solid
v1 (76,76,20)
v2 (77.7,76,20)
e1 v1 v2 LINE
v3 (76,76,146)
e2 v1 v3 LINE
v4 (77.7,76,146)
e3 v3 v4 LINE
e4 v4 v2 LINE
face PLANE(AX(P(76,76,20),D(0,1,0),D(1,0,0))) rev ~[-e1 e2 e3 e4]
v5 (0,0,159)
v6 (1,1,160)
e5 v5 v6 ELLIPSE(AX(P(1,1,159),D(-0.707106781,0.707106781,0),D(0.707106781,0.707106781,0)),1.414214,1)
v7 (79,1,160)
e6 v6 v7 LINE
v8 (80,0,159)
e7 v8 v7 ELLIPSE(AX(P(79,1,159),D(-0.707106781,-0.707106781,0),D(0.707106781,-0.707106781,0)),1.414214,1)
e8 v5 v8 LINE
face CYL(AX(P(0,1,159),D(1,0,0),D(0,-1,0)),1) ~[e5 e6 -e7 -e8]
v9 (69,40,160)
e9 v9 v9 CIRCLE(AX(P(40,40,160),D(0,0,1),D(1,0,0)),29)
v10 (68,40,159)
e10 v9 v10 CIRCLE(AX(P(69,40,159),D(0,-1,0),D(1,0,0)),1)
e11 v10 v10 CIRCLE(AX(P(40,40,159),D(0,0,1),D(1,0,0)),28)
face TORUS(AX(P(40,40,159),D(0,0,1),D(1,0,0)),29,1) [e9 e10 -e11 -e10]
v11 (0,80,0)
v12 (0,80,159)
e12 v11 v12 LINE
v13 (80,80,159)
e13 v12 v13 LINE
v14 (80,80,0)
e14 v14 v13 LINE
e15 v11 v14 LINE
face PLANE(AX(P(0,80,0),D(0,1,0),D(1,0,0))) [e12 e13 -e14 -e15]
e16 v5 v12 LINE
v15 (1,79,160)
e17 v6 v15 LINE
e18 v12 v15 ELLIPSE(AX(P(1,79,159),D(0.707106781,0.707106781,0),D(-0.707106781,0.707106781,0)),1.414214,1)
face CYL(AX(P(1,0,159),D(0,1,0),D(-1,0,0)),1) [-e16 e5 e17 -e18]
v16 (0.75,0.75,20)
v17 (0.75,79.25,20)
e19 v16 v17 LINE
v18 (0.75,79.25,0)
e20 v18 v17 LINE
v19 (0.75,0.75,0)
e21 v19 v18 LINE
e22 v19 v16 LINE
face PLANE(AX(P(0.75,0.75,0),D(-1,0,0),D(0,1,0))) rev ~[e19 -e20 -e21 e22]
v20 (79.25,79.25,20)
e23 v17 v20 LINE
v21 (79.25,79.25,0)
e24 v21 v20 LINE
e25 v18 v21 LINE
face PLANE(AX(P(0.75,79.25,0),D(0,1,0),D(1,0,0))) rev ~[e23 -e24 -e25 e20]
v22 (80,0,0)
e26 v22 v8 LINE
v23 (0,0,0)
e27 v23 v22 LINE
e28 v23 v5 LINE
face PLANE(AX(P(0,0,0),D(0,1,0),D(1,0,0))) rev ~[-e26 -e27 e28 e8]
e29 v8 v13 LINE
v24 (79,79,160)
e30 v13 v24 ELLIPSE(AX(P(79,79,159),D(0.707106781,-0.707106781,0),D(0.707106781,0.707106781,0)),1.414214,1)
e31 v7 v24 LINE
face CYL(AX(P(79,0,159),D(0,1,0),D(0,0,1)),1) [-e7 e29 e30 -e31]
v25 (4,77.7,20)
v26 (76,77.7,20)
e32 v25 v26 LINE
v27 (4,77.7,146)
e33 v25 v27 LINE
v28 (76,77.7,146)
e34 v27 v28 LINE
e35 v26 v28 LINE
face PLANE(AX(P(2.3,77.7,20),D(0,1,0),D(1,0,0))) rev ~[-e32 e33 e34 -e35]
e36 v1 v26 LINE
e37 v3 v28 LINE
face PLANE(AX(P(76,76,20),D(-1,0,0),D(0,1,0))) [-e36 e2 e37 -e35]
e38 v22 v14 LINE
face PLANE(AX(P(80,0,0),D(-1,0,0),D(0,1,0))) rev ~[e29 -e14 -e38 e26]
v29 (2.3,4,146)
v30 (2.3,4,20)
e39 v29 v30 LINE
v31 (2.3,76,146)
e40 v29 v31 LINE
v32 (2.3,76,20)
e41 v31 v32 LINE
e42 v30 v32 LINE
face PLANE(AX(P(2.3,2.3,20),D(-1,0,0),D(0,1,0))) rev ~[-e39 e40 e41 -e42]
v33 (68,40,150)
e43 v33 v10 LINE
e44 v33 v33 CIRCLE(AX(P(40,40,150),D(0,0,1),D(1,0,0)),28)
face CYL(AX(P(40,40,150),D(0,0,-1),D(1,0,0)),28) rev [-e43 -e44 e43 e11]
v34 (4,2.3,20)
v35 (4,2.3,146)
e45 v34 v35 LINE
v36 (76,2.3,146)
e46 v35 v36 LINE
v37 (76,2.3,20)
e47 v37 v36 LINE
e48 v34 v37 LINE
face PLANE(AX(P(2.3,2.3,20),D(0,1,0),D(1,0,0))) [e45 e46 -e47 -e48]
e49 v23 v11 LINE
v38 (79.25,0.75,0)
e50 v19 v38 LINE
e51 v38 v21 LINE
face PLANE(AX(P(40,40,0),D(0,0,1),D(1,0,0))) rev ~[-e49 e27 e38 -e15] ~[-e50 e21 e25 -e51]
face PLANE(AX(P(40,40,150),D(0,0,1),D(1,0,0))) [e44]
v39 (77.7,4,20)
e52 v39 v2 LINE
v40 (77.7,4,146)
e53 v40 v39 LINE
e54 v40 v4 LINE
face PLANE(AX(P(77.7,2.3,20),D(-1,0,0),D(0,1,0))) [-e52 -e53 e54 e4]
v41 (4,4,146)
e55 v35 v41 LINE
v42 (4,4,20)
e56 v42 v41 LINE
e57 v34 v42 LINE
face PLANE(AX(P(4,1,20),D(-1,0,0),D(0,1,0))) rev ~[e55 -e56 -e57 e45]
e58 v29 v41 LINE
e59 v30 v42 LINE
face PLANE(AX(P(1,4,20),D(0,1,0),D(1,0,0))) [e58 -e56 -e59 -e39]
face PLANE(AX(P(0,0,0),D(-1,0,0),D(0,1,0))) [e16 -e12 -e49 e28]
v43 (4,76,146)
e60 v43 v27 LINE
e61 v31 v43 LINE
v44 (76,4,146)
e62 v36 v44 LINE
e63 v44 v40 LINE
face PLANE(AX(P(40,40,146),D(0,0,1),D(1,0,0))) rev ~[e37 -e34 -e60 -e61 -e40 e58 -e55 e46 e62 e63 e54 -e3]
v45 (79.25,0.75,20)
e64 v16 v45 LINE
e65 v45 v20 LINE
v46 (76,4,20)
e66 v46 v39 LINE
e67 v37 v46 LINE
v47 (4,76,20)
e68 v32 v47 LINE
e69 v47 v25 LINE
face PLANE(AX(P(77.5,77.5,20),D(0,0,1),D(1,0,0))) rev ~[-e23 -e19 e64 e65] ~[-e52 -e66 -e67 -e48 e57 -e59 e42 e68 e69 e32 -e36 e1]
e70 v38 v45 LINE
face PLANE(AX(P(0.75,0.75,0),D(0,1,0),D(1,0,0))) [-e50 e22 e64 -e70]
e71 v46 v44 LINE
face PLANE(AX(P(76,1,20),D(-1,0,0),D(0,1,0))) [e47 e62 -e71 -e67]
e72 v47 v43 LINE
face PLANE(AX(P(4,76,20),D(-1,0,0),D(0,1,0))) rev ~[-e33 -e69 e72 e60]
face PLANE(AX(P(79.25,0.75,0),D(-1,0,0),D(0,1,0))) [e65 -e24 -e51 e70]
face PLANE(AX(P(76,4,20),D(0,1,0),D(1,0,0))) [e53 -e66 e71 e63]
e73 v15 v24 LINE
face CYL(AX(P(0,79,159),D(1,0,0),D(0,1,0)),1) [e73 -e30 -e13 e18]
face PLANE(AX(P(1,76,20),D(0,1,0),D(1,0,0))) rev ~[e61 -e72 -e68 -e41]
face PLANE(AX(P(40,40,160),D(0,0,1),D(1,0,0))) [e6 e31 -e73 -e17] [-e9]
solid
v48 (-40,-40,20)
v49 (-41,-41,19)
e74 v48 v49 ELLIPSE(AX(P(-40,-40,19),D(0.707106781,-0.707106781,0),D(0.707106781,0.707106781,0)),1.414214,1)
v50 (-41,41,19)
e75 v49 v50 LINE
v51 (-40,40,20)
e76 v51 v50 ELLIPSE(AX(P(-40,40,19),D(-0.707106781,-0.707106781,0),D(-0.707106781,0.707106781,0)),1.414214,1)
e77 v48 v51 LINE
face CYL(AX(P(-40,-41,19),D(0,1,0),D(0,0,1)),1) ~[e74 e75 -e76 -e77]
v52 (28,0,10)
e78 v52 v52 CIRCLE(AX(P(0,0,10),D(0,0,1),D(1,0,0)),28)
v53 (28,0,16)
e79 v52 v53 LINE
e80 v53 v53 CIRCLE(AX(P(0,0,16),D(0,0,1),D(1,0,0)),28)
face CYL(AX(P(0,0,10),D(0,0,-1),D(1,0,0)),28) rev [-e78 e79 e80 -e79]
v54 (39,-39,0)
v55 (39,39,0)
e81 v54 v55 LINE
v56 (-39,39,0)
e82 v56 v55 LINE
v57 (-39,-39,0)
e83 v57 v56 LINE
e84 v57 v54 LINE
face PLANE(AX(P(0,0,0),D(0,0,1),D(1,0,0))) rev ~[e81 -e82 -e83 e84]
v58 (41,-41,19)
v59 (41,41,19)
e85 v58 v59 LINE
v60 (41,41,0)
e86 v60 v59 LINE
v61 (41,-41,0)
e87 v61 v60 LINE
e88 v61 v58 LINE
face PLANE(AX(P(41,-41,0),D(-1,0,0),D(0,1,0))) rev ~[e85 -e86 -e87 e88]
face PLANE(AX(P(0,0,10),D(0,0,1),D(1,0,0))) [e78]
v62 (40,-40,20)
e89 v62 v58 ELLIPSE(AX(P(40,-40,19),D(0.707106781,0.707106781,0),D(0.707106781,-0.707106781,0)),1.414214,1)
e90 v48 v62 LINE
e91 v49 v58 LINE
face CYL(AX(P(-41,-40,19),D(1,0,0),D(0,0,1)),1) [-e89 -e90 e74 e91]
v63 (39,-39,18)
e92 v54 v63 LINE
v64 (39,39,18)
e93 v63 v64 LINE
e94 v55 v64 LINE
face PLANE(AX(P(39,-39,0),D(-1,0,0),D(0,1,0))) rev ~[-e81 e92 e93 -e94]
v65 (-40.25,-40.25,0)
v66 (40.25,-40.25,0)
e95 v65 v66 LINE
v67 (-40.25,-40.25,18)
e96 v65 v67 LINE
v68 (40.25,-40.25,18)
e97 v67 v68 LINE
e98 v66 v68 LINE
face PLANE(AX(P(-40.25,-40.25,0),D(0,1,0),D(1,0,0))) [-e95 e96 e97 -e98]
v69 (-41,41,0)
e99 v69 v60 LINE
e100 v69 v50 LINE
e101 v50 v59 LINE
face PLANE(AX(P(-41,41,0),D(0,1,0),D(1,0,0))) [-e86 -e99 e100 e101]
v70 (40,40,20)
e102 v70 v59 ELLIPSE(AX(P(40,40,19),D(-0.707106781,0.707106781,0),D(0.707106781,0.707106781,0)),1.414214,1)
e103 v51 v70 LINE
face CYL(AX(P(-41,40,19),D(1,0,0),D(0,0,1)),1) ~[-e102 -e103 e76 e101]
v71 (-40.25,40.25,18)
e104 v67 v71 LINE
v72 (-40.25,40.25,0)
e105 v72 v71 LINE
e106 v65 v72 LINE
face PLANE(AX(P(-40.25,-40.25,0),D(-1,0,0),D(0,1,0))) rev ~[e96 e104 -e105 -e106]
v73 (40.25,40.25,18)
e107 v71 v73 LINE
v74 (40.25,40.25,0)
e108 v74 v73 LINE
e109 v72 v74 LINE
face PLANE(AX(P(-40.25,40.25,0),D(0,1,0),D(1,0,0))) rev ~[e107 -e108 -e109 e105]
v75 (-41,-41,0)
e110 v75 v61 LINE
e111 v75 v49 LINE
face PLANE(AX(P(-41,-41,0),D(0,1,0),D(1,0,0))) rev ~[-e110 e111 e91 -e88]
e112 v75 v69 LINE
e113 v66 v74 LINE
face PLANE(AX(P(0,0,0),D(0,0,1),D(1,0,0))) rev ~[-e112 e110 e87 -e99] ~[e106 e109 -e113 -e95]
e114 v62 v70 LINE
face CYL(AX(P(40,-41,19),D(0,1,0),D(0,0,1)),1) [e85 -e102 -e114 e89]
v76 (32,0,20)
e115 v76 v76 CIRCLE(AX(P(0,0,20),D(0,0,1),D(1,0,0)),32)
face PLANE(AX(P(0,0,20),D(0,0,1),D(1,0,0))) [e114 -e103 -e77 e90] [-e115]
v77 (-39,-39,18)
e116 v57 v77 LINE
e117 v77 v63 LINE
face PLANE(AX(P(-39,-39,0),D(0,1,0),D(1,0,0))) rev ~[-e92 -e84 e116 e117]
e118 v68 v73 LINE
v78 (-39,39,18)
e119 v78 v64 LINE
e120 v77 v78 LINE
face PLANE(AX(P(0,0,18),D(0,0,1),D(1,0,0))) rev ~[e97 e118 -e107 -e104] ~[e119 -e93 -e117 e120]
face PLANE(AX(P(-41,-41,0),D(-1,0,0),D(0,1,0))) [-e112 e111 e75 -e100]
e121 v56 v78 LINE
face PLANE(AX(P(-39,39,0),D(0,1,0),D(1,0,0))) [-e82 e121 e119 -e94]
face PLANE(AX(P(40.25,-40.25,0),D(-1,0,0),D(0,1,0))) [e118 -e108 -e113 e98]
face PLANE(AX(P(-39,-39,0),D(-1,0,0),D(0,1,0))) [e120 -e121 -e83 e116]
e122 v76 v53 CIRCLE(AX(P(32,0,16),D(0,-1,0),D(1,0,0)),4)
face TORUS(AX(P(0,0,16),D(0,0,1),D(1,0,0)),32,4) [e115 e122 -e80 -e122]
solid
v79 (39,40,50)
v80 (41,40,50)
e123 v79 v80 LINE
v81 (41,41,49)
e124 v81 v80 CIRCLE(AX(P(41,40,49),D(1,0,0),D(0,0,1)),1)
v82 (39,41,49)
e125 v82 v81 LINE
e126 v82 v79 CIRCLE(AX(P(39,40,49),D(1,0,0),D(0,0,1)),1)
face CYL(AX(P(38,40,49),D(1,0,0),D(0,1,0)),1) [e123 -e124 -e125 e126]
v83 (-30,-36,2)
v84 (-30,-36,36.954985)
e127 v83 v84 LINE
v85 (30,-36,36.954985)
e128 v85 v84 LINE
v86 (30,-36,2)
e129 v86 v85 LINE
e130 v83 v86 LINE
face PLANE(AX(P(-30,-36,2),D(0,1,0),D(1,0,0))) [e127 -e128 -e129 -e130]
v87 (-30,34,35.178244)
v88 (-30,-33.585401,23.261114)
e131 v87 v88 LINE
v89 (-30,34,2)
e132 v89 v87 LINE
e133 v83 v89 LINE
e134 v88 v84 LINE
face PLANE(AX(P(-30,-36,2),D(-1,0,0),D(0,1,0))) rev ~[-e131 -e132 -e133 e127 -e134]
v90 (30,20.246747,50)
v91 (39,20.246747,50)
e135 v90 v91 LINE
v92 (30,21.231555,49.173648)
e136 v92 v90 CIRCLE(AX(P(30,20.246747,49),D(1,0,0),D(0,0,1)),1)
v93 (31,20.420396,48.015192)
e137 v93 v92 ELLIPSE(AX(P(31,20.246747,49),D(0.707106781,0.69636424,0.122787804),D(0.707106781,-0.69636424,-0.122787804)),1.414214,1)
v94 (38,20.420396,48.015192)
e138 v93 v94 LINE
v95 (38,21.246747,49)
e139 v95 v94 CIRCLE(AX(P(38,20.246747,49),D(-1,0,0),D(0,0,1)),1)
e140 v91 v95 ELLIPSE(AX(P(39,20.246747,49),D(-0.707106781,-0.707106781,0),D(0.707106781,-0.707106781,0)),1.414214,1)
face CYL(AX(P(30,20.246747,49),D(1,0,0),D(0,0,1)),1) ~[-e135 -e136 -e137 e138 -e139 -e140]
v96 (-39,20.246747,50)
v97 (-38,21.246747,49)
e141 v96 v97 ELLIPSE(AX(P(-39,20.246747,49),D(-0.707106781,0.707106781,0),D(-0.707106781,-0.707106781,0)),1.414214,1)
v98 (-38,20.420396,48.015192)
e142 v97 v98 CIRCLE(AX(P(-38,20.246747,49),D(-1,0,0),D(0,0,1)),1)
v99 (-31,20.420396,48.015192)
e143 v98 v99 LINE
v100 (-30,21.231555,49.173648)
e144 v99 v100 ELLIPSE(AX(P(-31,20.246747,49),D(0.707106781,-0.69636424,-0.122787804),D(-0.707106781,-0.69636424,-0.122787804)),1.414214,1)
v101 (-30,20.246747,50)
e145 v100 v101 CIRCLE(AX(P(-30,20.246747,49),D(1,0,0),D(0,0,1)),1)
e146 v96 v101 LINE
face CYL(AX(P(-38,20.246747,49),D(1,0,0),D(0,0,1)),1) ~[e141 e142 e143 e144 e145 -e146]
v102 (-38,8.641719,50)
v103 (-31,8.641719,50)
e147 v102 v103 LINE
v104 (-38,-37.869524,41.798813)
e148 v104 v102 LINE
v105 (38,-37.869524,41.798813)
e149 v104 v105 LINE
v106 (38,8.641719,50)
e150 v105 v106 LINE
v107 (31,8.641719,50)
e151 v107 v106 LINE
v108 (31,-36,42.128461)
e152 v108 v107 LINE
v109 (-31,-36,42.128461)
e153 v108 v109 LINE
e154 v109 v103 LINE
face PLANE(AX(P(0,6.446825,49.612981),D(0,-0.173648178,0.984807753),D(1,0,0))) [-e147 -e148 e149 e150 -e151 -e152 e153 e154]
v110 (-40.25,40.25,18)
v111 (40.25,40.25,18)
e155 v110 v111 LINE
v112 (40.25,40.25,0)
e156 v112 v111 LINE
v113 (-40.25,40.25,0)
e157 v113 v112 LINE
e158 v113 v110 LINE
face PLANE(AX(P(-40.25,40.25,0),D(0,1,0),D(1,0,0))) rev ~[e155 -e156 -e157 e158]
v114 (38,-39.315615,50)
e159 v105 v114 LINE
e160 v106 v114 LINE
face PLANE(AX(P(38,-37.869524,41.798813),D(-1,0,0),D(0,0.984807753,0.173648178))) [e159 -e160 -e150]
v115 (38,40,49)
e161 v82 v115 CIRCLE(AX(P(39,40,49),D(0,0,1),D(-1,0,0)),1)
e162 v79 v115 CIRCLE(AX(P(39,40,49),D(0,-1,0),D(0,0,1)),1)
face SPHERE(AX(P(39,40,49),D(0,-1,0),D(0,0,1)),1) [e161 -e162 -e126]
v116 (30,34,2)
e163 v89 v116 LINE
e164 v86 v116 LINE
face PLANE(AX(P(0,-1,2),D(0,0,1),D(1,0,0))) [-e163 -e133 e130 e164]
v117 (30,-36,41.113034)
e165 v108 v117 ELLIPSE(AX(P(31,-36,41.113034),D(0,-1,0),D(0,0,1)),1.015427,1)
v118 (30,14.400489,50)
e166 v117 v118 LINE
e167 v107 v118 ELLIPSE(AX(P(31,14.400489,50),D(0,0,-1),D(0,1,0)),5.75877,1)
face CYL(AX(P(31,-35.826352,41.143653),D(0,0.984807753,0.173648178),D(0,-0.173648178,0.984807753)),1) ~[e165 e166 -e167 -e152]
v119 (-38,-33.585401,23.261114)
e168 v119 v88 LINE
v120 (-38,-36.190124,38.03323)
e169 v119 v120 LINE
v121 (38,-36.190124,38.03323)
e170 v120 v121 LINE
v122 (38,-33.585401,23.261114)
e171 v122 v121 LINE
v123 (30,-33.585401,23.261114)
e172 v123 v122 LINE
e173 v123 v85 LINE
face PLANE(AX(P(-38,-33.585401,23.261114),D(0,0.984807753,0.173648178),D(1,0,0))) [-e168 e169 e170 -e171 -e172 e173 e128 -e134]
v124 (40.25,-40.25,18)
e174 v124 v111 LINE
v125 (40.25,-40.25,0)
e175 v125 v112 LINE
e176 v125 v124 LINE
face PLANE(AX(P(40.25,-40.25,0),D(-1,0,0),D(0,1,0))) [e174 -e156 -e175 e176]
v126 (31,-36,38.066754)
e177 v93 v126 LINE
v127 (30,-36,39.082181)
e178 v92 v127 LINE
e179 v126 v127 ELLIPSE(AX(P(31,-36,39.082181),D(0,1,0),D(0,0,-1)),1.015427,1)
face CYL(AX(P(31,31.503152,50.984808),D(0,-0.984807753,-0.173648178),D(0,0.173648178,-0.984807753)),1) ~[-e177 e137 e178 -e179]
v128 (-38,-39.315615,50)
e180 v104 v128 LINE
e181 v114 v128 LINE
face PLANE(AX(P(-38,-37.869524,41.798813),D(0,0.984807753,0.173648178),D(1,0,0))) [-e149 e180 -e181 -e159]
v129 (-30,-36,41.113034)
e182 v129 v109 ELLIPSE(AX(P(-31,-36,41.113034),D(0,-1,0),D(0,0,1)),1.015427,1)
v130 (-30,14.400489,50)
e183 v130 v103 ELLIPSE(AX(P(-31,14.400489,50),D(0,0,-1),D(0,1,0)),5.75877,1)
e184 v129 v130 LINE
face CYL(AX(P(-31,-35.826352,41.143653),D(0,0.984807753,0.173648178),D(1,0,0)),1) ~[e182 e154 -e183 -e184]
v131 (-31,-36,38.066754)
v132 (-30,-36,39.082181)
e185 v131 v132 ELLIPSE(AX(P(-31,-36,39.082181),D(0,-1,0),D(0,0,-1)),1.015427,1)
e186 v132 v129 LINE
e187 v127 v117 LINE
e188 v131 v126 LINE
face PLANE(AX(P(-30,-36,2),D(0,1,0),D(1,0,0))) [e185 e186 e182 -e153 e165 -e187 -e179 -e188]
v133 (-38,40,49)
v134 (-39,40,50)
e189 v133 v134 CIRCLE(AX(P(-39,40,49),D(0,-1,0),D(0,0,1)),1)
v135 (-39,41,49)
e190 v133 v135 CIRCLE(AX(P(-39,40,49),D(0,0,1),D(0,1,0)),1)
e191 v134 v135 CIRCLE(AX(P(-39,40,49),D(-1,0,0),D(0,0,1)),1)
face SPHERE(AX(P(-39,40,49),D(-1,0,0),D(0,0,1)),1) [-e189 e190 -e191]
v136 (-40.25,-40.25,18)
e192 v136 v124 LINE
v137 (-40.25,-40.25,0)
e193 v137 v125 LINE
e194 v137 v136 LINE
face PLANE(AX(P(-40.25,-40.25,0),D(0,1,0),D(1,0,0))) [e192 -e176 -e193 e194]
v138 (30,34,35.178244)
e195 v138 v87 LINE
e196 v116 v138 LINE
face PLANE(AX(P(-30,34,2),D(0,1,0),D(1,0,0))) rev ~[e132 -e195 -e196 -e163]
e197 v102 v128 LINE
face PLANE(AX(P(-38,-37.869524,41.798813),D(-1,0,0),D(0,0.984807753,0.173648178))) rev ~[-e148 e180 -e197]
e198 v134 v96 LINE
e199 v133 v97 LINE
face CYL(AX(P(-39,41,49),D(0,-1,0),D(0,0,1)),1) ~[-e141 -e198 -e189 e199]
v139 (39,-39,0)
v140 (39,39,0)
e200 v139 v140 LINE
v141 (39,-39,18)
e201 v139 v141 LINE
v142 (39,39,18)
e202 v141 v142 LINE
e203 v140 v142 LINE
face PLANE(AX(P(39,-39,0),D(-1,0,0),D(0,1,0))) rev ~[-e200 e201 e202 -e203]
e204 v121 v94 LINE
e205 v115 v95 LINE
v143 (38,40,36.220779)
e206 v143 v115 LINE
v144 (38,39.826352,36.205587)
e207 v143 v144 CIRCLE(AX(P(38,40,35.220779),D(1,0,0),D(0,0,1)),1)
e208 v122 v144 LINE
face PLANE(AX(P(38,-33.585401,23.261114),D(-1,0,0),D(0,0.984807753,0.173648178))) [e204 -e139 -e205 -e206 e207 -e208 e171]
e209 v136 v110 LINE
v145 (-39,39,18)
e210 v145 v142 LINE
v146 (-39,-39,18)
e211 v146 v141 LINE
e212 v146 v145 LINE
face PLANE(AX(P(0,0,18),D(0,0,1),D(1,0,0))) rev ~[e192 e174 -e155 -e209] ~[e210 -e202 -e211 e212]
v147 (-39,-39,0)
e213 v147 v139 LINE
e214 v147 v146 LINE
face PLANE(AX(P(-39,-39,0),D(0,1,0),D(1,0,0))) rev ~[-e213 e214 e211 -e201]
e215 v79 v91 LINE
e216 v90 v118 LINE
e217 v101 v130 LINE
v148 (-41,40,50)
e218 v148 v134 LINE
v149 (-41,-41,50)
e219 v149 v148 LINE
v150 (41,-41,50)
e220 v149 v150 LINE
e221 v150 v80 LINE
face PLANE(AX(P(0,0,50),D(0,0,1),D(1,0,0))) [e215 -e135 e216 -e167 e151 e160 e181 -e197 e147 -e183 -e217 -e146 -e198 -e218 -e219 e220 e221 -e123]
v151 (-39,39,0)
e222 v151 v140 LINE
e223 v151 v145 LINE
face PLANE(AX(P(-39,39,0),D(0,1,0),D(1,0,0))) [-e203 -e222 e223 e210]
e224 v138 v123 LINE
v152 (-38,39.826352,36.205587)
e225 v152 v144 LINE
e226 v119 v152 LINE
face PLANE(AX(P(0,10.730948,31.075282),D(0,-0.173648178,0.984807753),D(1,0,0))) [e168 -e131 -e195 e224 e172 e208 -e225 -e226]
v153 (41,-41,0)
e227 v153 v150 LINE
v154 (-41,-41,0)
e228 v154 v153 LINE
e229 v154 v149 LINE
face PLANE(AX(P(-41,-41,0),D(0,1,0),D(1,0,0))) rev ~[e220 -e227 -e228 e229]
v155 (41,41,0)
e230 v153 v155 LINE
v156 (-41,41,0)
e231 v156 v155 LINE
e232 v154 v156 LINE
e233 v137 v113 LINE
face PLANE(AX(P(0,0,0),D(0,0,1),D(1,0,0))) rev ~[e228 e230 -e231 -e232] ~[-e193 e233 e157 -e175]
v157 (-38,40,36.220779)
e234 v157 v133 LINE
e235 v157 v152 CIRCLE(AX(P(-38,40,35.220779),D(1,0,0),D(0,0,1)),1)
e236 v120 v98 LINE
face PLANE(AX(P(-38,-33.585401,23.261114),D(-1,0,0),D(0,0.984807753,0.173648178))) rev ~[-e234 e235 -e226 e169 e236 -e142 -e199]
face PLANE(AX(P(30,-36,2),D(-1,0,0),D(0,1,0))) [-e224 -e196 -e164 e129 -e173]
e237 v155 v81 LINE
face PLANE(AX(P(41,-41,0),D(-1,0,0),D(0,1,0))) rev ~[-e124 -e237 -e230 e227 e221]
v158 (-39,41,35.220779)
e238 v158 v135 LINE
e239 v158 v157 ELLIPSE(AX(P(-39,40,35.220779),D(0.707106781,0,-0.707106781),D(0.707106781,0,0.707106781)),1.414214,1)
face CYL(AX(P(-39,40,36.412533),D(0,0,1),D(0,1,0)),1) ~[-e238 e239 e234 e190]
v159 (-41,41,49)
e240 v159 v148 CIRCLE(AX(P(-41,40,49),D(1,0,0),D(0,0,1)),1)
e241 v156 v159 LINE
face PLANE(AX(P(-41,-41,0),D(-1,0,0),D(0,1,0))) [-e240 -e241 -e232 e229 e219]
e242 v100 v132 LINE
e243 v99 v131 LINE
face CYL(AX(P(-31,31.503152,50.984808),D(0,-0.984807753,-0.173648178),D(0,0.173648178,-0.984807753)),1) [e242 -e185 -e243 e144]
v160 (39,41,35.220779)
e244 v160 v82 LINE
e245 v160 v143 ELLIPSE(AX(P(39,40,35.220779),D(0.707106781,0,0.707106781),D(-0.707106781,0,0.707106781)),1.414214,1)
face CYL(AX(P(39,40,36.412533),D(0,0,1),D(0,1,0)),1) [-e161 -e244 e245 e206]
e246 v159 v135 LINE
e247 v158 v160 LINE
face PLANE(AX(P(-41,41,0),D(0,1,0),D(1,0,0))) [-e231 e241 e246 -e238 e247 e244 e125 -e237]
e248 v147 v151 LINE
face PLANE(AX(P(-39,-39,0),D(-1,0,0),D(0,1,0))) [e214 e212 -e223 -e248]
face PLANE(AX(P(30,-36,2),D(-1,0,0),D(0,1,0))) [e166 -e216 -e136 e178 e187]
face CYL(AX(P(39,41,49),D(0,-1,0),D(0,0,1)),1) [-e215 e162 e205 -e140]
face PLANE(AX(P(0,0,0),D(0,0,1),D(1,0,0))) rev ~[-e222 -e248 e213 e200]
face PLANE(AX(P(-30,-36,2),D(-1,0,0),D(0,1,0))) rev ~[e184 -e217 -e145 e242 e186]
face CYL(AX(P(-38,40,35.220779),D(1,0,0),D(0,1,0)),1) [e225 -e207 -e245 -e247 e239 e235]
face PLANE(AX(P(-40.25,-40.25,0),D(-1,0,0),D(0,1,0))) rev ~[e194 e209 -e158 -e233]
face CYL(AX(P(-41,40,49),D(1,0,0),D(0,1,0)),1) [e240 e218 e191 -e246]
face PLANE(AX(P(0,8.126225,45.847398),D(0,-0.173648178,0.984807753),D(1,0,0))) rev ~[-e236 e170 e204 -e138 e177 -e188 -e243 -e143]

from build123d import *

# Parameters (mm, degrees)
CYLINDER_R             = 28
CYLINDER_DEPTH         = 10
BOX003_W               = 78
BOX003_H               = 78
BOX003_DEPTH           = 18
BOX004_W               = 80.5
BOX004_H               = 80.5
BOX004_DEPTH           = 18
BOX_W                  = 82
BOX_H                  = 82
BOX_DEPTH              = 20
FILLET_1_R             = 4
FILLET_2_R             = 1
BOX011_W               = 60
BOX011_H               = 70
BOX011_DEPTH           = 90
BOX012_W               = 76
BOX012_H               = 90
BOX012_DEPTH           = 15
BOX012_PLACEMENT_ANGLE = 10
BOX010_W               = 76
BOX010_H               = 90
BOX010_DEPTH           = 15
BOX010_PLACEMENT_ANGLE = 10
BOX008_W               = 78
BOX008_H               = 78
BOX008_DEPTH           = 18
BOX009_W               = 80.5
BOX009_H               = 80.5
BOX009_DEPTH           = 18
BOX007_W               = 82
BOX007_H               = 82
BOX007_DEPTH           = 50
FILLET001_R            = 1
BOX016_W               = 3
BOX016_H               = 3
BOX016_DEPTH           = 126
BOX017_W               = 3
BOX017_H               = 3
BOX017_DEPTH           = 126
BOX018_W               = 3
BOX018_H               = 3
BOX018_DEPTH           = 126
BOX019_W               = 3
BOX019_H               = 3
BOX019_DEPTH           = 126
BOX013_W               = 78.5
BOX013_H               = 78.5
BOX013_DEPTH           = 20
CYLINDER001_R          = 28
CYLINDER001_DEPTH      = 10
BOX014_W               = 75.4
BOX014_H               = 75.4
BOX014_DEPTH           = 126
BOX005_W               = 80
BOX005_H               = 80
BOX005_DEPTH           = 160
FILLET002_R            = 1


with BuildPart() as cylinder:
    # Cylinder → Cylinder (new body)
    with BuildSketch(Plane.XY.offset(10)):
        Circle(CYLINDER_R)
    extrude(amount=CYLINDER_DEPTH)


with BuildPart() as cube003:
    # Box003 → Box003 (new body)
    with BuildSketch(Plane(origin=(-39, -39, 0), x_dir=(1, 0, 0), z_dir=(0, 0, 1))):
        with Locations((39, 39)):
            Rectangle(BOX003_W, BOX003_H)
    extrude(amount=BOX003_DEPTH)


with BuildPart() as cube004:
    # Box004 → Box004 (new body)
    with BuildSketch(Plane(origin=(-40.25, -40.25, 0), x_dir=(1, 0, 0), z_dir=(0, 0, 1))):
        with Locations((40.25, 40.25)):
            Rectangle(BOX004_W, BOX004_H)
    extrude(amount=BOX004_DEPTH)


with BuildPart() as fillet_kruh:
    # Box → Box (new body)
    with BuildSketch(Plane(origin=(-41, -41, 0), x_dir=(1, 0, 0), z_dir=(0, 0, 1))):
        with Locations((41, 41)):
            Rectangle(BOX_W, BOX_H)
    extrude(amount=BOX_DEPTH)

    # Cut: cut Cube004
    add(cube004.part, mode=Mode.SUBTRACT)

    # Fusion: union Cube003
    add(cube003.part)

    # Cut001: cut Cylinder
    add(cylinder.part, mode=Mode.SUBTRACT)

    # Fillet 1
    fillet_1_edges = [fillet_kruh.edges().sort_by_distance(p)[0] for p in [
        (-28, 0, 20),
    ]]
    fillet(fillet_1_edges, radius=FILLET_1_R)

    # Fillet 2
    fillet_2_edges = [fillet_kruh.edges().sort_by_distance(p)[0] for p in [
        (-41, 0, 20),
        (0, -41, 20),
        (0, 41, 20),
        (41, 0, 20),
    ]]
    fillet(fillet_2_edges, radius=FILLET_2_R)


with BuildPart() as cube010:
    # Box011 → Box011 (new body)
    with BuildSketch(Plane(origin=(-30, -36, 2), x_dir=(1, 0, 0), z_dir=(0, 0, 1))):
        with Locations((30, 35)):
            Rectangle(BOX011_W, BOX011_H)
    extrude(amount=BOX011_DEPTH)


with BuildPart() as cube011:
    # Box012 → Box012 (new body)
    with BuildSketch(Plane.XY):
        with Locations((38, 45)):
            Rectangle(BOX012_W, BOX012_H)
    extrude(amount=BOX012_DEPTH)


with BuildPart() as cube011_1:
    # Box012 placement: moved
    add(cube011.part.moved(Location((-38, -37.869524, 41.798813))).rotate(Axis((-38, -37.869524, 41.798813), (1, 0, 0)), BOX012_PLACEMENT_ANGLE))


with BuildPart() as fusion002:
    # Box010 → Box010 (new body)
    with BuildSketch(Plane.XY):
        with Locations((38, 45)):
            Rectangle(BOX010_W, BOX010_H)
    extrude(amount=BOX010_DEPTH)


with BuildPart() as fusion002_1:
    # Box010 placement: moved
    add(fusion002.part.moved(Location((-38, -33.585401, 23.261114))).rotate(Axis((-38, -33.585401, 23.261114), (1, 0, 0)), BOX010_PLACEMENT_ANGLE))

    # Fusion002: union Cube010, Cube011
    add(cube010.part)
    add(cube011_1.part)


with BuildPart() as cube007:
    # Box008 → Box008 (new body)
    with BuildSketch(Plane(origin=(-39, -39, 0), x_dir=(1, 0, 0), z_dir=(0, 0, 1))):
        with Locations((39, 39)):
            Rectangle(BOX008_W, BOX008_H)
    extrude(amount=BOX008_DEPTH)


with BuildPart() as cube008:
    # Box009 → Box009 (new body)
    with BuildSketch(Plane(origin=(-40.25, -40.25, 0), x_dir=(1, 0, 0), z_dir=(0, 0, 1))):
        with Locations((40.25, 40.25)):
            Rectangle(BOX009_W, BOX009_H)
    extrude(amount=BOX009_DEPTH)


with BuildPart() as fillet001_stvorec:
    # Box007 → Box007 (new body)
    with BuildSketch(Plane(origin=(-41, -41, 0), x_dir=(1, 0, 0), z_dir=(0, 0, 1))):
        with Locations((41, 41)):
            Rectangle(BOX007_W, BOX007_H)
    extrude(amount=BOX007_DEPTH)

    # Cut002: cut Cube008
    add(cube008.part, mode=Mode.SUBTRACT)

    # Fusion001: union Cube007
    add(cube007.part)

    # Cut003: cut Fusion002
    add(fusion002_1.part, mode=Mode.SUBTRACT)

    # Fillet001
    fillet001_edges = [fillet001_stvorec.edges().sort_by_distance(p)[0] for p in [
        (-39.5, 41, 50),
        (-38, 36.3384, 50),
        (-34, 31.6768, 50),
        (34, 31.6768, 50),
        (38, 36.3384, 50),
        (39.5, 41, 50),
        (38, 41, 43.206266),
        (0, 41, 36.412533),
        (-38, 41, 43.206266),
        (-30, -2.1616, 44.033377),
        (30, -2.1616, 44.033377),
        (-30, -13.679141, 46.06423),
        (30, -13.679141, 46.06423),
    ]]
    fillet(fillet001_edges, radius=FILLET001_R)


with BuildPart() as cube005_nohaupup001:
    # Box016 → Box016 (new body)
    with BuildSketch(Plane(origin=(1, 1, 20), x_dir=(1, 0, 0), z_dir=(0, 0, 1))):
        with Locations((1.5, 1.5)):
            Rectangle(BOX016_W, BOX016_H)
    extrude(amount=BOX016_DEPTH)


with BuildPart() as cube005_nohaupup002:
    # Box017 → Box017 (new body)
    with BuildSketch(Plane(origin=(1, 76, 20), x_dir=(1, 0, 0), z_dir=(0, 0, 1))):
        with Locations((1.5, 1.5)):
            Rectangle(BOX017_W, BOX017_H)
    extrude(amount=BOX017_DEPTH)


with BuildPart() as cube005_nohaupup003:
    # Box018 → Box018 (new body)
    with BuildSketch(Plane(origin=(76, 1, 20), x_dir=(1, 0, 0), z_dir=(0, 0, 1))):
        with Locations((1.5, 1.5)):
            Rectangle(BOX018_W, BOX018_H)
    extrude(amount=BOX018_DEPTH)


with BuildPart() as cube005_nohaupup004:
    # Box019 → Box019 (new body)
    with BuildSketch(Plane(origin=(76, 76, 20), x_dir=(1, 0, 0), z_dir=(0, 0, 1))):
        with Locations((1.5, 1.5)):
            Rectangle(BOX019_W, BOX019_H)
    extrude(amount=BOX019_DEPTH)


with BuildPart() as cube005_noha_up:
    # Box013 → Box013 (new body)
    with BuildSketch(Plane(origin=(0.75, 0.75, 0), x_dir=(1, 0, 0), z_dir=(0, 0, 1))):
        with Locations((39.25, 39.25)):
            Rectangle(BOX013_W, BOX013_H)
    extrude(amount=BOX013_DEPTH)


with BuildPart() as cylinder001:
    # Cylinder001 → Cylinder001 (new body)
    with BuildSketch(Plane(origin=(40, 40, 150), x_dir=(1, 0, 0), z_dir=(0, 0, 1))):
        Circle(CYLINDER001_R)
    extrude(amount=CYLINDER001_DEPTH)


with BuildPart() as fusion003:
    # Box014 → Box014 (new body)
    with BuildSketch(Plane(origin=(2.3, 2.3, 20), x_dir=(1, 0, 0), z_dir=(0, 0, 1))):
        with Locations((37.7, 37.7)):
            Rectangle(BOX014_W, BOX014_H)
    extrude(amount=BOX014_DEPTH)

    # Fusion003: union Cube005_noha_up, Cylinder001
    add(cube005_noha_up.part)
    add(cylinder001.part)


with BuildPart() as fusion004_noha:
    # Box005 → Box005 (new body)
    with BuildSketch(Plane.XY):
        with Locations((40, 40)):
            Rectangle(BOX005_W, BOX005_H)
    extrude(amount=BOX005_DEPTH)

    # Cut004: cut Fusion003
    add(fusion003.part, mode=Mode.SUBTRACT)

    # Fillet002
    fillet002_edges = [fusion004_noha.edges().sort_by_distance(p)[0] for p in [
        (0, 40, 160),
        (40, 0, 160),
        (40, 80, 160),
        (80, 40, 160),
        (12, 40, 160),
    ]]
    fillet(fillet002_edges, radius=FILLET002_R)

    # Fusion004: union Cube005_nohaupup001, Cube005_nohaupup002, Cube005_nohaupup003, Cube005_nohaupup004
    add(cube005_nohaupup001.part)
    add(cube005_nohaupup002.part)
    add(cube005_nohaupup003.part)
    add(cube005_nohaupup004.part)


solid = Compound([fillet_kruh.part, fillet001_stvorec.part, fusion004_noha.part])
